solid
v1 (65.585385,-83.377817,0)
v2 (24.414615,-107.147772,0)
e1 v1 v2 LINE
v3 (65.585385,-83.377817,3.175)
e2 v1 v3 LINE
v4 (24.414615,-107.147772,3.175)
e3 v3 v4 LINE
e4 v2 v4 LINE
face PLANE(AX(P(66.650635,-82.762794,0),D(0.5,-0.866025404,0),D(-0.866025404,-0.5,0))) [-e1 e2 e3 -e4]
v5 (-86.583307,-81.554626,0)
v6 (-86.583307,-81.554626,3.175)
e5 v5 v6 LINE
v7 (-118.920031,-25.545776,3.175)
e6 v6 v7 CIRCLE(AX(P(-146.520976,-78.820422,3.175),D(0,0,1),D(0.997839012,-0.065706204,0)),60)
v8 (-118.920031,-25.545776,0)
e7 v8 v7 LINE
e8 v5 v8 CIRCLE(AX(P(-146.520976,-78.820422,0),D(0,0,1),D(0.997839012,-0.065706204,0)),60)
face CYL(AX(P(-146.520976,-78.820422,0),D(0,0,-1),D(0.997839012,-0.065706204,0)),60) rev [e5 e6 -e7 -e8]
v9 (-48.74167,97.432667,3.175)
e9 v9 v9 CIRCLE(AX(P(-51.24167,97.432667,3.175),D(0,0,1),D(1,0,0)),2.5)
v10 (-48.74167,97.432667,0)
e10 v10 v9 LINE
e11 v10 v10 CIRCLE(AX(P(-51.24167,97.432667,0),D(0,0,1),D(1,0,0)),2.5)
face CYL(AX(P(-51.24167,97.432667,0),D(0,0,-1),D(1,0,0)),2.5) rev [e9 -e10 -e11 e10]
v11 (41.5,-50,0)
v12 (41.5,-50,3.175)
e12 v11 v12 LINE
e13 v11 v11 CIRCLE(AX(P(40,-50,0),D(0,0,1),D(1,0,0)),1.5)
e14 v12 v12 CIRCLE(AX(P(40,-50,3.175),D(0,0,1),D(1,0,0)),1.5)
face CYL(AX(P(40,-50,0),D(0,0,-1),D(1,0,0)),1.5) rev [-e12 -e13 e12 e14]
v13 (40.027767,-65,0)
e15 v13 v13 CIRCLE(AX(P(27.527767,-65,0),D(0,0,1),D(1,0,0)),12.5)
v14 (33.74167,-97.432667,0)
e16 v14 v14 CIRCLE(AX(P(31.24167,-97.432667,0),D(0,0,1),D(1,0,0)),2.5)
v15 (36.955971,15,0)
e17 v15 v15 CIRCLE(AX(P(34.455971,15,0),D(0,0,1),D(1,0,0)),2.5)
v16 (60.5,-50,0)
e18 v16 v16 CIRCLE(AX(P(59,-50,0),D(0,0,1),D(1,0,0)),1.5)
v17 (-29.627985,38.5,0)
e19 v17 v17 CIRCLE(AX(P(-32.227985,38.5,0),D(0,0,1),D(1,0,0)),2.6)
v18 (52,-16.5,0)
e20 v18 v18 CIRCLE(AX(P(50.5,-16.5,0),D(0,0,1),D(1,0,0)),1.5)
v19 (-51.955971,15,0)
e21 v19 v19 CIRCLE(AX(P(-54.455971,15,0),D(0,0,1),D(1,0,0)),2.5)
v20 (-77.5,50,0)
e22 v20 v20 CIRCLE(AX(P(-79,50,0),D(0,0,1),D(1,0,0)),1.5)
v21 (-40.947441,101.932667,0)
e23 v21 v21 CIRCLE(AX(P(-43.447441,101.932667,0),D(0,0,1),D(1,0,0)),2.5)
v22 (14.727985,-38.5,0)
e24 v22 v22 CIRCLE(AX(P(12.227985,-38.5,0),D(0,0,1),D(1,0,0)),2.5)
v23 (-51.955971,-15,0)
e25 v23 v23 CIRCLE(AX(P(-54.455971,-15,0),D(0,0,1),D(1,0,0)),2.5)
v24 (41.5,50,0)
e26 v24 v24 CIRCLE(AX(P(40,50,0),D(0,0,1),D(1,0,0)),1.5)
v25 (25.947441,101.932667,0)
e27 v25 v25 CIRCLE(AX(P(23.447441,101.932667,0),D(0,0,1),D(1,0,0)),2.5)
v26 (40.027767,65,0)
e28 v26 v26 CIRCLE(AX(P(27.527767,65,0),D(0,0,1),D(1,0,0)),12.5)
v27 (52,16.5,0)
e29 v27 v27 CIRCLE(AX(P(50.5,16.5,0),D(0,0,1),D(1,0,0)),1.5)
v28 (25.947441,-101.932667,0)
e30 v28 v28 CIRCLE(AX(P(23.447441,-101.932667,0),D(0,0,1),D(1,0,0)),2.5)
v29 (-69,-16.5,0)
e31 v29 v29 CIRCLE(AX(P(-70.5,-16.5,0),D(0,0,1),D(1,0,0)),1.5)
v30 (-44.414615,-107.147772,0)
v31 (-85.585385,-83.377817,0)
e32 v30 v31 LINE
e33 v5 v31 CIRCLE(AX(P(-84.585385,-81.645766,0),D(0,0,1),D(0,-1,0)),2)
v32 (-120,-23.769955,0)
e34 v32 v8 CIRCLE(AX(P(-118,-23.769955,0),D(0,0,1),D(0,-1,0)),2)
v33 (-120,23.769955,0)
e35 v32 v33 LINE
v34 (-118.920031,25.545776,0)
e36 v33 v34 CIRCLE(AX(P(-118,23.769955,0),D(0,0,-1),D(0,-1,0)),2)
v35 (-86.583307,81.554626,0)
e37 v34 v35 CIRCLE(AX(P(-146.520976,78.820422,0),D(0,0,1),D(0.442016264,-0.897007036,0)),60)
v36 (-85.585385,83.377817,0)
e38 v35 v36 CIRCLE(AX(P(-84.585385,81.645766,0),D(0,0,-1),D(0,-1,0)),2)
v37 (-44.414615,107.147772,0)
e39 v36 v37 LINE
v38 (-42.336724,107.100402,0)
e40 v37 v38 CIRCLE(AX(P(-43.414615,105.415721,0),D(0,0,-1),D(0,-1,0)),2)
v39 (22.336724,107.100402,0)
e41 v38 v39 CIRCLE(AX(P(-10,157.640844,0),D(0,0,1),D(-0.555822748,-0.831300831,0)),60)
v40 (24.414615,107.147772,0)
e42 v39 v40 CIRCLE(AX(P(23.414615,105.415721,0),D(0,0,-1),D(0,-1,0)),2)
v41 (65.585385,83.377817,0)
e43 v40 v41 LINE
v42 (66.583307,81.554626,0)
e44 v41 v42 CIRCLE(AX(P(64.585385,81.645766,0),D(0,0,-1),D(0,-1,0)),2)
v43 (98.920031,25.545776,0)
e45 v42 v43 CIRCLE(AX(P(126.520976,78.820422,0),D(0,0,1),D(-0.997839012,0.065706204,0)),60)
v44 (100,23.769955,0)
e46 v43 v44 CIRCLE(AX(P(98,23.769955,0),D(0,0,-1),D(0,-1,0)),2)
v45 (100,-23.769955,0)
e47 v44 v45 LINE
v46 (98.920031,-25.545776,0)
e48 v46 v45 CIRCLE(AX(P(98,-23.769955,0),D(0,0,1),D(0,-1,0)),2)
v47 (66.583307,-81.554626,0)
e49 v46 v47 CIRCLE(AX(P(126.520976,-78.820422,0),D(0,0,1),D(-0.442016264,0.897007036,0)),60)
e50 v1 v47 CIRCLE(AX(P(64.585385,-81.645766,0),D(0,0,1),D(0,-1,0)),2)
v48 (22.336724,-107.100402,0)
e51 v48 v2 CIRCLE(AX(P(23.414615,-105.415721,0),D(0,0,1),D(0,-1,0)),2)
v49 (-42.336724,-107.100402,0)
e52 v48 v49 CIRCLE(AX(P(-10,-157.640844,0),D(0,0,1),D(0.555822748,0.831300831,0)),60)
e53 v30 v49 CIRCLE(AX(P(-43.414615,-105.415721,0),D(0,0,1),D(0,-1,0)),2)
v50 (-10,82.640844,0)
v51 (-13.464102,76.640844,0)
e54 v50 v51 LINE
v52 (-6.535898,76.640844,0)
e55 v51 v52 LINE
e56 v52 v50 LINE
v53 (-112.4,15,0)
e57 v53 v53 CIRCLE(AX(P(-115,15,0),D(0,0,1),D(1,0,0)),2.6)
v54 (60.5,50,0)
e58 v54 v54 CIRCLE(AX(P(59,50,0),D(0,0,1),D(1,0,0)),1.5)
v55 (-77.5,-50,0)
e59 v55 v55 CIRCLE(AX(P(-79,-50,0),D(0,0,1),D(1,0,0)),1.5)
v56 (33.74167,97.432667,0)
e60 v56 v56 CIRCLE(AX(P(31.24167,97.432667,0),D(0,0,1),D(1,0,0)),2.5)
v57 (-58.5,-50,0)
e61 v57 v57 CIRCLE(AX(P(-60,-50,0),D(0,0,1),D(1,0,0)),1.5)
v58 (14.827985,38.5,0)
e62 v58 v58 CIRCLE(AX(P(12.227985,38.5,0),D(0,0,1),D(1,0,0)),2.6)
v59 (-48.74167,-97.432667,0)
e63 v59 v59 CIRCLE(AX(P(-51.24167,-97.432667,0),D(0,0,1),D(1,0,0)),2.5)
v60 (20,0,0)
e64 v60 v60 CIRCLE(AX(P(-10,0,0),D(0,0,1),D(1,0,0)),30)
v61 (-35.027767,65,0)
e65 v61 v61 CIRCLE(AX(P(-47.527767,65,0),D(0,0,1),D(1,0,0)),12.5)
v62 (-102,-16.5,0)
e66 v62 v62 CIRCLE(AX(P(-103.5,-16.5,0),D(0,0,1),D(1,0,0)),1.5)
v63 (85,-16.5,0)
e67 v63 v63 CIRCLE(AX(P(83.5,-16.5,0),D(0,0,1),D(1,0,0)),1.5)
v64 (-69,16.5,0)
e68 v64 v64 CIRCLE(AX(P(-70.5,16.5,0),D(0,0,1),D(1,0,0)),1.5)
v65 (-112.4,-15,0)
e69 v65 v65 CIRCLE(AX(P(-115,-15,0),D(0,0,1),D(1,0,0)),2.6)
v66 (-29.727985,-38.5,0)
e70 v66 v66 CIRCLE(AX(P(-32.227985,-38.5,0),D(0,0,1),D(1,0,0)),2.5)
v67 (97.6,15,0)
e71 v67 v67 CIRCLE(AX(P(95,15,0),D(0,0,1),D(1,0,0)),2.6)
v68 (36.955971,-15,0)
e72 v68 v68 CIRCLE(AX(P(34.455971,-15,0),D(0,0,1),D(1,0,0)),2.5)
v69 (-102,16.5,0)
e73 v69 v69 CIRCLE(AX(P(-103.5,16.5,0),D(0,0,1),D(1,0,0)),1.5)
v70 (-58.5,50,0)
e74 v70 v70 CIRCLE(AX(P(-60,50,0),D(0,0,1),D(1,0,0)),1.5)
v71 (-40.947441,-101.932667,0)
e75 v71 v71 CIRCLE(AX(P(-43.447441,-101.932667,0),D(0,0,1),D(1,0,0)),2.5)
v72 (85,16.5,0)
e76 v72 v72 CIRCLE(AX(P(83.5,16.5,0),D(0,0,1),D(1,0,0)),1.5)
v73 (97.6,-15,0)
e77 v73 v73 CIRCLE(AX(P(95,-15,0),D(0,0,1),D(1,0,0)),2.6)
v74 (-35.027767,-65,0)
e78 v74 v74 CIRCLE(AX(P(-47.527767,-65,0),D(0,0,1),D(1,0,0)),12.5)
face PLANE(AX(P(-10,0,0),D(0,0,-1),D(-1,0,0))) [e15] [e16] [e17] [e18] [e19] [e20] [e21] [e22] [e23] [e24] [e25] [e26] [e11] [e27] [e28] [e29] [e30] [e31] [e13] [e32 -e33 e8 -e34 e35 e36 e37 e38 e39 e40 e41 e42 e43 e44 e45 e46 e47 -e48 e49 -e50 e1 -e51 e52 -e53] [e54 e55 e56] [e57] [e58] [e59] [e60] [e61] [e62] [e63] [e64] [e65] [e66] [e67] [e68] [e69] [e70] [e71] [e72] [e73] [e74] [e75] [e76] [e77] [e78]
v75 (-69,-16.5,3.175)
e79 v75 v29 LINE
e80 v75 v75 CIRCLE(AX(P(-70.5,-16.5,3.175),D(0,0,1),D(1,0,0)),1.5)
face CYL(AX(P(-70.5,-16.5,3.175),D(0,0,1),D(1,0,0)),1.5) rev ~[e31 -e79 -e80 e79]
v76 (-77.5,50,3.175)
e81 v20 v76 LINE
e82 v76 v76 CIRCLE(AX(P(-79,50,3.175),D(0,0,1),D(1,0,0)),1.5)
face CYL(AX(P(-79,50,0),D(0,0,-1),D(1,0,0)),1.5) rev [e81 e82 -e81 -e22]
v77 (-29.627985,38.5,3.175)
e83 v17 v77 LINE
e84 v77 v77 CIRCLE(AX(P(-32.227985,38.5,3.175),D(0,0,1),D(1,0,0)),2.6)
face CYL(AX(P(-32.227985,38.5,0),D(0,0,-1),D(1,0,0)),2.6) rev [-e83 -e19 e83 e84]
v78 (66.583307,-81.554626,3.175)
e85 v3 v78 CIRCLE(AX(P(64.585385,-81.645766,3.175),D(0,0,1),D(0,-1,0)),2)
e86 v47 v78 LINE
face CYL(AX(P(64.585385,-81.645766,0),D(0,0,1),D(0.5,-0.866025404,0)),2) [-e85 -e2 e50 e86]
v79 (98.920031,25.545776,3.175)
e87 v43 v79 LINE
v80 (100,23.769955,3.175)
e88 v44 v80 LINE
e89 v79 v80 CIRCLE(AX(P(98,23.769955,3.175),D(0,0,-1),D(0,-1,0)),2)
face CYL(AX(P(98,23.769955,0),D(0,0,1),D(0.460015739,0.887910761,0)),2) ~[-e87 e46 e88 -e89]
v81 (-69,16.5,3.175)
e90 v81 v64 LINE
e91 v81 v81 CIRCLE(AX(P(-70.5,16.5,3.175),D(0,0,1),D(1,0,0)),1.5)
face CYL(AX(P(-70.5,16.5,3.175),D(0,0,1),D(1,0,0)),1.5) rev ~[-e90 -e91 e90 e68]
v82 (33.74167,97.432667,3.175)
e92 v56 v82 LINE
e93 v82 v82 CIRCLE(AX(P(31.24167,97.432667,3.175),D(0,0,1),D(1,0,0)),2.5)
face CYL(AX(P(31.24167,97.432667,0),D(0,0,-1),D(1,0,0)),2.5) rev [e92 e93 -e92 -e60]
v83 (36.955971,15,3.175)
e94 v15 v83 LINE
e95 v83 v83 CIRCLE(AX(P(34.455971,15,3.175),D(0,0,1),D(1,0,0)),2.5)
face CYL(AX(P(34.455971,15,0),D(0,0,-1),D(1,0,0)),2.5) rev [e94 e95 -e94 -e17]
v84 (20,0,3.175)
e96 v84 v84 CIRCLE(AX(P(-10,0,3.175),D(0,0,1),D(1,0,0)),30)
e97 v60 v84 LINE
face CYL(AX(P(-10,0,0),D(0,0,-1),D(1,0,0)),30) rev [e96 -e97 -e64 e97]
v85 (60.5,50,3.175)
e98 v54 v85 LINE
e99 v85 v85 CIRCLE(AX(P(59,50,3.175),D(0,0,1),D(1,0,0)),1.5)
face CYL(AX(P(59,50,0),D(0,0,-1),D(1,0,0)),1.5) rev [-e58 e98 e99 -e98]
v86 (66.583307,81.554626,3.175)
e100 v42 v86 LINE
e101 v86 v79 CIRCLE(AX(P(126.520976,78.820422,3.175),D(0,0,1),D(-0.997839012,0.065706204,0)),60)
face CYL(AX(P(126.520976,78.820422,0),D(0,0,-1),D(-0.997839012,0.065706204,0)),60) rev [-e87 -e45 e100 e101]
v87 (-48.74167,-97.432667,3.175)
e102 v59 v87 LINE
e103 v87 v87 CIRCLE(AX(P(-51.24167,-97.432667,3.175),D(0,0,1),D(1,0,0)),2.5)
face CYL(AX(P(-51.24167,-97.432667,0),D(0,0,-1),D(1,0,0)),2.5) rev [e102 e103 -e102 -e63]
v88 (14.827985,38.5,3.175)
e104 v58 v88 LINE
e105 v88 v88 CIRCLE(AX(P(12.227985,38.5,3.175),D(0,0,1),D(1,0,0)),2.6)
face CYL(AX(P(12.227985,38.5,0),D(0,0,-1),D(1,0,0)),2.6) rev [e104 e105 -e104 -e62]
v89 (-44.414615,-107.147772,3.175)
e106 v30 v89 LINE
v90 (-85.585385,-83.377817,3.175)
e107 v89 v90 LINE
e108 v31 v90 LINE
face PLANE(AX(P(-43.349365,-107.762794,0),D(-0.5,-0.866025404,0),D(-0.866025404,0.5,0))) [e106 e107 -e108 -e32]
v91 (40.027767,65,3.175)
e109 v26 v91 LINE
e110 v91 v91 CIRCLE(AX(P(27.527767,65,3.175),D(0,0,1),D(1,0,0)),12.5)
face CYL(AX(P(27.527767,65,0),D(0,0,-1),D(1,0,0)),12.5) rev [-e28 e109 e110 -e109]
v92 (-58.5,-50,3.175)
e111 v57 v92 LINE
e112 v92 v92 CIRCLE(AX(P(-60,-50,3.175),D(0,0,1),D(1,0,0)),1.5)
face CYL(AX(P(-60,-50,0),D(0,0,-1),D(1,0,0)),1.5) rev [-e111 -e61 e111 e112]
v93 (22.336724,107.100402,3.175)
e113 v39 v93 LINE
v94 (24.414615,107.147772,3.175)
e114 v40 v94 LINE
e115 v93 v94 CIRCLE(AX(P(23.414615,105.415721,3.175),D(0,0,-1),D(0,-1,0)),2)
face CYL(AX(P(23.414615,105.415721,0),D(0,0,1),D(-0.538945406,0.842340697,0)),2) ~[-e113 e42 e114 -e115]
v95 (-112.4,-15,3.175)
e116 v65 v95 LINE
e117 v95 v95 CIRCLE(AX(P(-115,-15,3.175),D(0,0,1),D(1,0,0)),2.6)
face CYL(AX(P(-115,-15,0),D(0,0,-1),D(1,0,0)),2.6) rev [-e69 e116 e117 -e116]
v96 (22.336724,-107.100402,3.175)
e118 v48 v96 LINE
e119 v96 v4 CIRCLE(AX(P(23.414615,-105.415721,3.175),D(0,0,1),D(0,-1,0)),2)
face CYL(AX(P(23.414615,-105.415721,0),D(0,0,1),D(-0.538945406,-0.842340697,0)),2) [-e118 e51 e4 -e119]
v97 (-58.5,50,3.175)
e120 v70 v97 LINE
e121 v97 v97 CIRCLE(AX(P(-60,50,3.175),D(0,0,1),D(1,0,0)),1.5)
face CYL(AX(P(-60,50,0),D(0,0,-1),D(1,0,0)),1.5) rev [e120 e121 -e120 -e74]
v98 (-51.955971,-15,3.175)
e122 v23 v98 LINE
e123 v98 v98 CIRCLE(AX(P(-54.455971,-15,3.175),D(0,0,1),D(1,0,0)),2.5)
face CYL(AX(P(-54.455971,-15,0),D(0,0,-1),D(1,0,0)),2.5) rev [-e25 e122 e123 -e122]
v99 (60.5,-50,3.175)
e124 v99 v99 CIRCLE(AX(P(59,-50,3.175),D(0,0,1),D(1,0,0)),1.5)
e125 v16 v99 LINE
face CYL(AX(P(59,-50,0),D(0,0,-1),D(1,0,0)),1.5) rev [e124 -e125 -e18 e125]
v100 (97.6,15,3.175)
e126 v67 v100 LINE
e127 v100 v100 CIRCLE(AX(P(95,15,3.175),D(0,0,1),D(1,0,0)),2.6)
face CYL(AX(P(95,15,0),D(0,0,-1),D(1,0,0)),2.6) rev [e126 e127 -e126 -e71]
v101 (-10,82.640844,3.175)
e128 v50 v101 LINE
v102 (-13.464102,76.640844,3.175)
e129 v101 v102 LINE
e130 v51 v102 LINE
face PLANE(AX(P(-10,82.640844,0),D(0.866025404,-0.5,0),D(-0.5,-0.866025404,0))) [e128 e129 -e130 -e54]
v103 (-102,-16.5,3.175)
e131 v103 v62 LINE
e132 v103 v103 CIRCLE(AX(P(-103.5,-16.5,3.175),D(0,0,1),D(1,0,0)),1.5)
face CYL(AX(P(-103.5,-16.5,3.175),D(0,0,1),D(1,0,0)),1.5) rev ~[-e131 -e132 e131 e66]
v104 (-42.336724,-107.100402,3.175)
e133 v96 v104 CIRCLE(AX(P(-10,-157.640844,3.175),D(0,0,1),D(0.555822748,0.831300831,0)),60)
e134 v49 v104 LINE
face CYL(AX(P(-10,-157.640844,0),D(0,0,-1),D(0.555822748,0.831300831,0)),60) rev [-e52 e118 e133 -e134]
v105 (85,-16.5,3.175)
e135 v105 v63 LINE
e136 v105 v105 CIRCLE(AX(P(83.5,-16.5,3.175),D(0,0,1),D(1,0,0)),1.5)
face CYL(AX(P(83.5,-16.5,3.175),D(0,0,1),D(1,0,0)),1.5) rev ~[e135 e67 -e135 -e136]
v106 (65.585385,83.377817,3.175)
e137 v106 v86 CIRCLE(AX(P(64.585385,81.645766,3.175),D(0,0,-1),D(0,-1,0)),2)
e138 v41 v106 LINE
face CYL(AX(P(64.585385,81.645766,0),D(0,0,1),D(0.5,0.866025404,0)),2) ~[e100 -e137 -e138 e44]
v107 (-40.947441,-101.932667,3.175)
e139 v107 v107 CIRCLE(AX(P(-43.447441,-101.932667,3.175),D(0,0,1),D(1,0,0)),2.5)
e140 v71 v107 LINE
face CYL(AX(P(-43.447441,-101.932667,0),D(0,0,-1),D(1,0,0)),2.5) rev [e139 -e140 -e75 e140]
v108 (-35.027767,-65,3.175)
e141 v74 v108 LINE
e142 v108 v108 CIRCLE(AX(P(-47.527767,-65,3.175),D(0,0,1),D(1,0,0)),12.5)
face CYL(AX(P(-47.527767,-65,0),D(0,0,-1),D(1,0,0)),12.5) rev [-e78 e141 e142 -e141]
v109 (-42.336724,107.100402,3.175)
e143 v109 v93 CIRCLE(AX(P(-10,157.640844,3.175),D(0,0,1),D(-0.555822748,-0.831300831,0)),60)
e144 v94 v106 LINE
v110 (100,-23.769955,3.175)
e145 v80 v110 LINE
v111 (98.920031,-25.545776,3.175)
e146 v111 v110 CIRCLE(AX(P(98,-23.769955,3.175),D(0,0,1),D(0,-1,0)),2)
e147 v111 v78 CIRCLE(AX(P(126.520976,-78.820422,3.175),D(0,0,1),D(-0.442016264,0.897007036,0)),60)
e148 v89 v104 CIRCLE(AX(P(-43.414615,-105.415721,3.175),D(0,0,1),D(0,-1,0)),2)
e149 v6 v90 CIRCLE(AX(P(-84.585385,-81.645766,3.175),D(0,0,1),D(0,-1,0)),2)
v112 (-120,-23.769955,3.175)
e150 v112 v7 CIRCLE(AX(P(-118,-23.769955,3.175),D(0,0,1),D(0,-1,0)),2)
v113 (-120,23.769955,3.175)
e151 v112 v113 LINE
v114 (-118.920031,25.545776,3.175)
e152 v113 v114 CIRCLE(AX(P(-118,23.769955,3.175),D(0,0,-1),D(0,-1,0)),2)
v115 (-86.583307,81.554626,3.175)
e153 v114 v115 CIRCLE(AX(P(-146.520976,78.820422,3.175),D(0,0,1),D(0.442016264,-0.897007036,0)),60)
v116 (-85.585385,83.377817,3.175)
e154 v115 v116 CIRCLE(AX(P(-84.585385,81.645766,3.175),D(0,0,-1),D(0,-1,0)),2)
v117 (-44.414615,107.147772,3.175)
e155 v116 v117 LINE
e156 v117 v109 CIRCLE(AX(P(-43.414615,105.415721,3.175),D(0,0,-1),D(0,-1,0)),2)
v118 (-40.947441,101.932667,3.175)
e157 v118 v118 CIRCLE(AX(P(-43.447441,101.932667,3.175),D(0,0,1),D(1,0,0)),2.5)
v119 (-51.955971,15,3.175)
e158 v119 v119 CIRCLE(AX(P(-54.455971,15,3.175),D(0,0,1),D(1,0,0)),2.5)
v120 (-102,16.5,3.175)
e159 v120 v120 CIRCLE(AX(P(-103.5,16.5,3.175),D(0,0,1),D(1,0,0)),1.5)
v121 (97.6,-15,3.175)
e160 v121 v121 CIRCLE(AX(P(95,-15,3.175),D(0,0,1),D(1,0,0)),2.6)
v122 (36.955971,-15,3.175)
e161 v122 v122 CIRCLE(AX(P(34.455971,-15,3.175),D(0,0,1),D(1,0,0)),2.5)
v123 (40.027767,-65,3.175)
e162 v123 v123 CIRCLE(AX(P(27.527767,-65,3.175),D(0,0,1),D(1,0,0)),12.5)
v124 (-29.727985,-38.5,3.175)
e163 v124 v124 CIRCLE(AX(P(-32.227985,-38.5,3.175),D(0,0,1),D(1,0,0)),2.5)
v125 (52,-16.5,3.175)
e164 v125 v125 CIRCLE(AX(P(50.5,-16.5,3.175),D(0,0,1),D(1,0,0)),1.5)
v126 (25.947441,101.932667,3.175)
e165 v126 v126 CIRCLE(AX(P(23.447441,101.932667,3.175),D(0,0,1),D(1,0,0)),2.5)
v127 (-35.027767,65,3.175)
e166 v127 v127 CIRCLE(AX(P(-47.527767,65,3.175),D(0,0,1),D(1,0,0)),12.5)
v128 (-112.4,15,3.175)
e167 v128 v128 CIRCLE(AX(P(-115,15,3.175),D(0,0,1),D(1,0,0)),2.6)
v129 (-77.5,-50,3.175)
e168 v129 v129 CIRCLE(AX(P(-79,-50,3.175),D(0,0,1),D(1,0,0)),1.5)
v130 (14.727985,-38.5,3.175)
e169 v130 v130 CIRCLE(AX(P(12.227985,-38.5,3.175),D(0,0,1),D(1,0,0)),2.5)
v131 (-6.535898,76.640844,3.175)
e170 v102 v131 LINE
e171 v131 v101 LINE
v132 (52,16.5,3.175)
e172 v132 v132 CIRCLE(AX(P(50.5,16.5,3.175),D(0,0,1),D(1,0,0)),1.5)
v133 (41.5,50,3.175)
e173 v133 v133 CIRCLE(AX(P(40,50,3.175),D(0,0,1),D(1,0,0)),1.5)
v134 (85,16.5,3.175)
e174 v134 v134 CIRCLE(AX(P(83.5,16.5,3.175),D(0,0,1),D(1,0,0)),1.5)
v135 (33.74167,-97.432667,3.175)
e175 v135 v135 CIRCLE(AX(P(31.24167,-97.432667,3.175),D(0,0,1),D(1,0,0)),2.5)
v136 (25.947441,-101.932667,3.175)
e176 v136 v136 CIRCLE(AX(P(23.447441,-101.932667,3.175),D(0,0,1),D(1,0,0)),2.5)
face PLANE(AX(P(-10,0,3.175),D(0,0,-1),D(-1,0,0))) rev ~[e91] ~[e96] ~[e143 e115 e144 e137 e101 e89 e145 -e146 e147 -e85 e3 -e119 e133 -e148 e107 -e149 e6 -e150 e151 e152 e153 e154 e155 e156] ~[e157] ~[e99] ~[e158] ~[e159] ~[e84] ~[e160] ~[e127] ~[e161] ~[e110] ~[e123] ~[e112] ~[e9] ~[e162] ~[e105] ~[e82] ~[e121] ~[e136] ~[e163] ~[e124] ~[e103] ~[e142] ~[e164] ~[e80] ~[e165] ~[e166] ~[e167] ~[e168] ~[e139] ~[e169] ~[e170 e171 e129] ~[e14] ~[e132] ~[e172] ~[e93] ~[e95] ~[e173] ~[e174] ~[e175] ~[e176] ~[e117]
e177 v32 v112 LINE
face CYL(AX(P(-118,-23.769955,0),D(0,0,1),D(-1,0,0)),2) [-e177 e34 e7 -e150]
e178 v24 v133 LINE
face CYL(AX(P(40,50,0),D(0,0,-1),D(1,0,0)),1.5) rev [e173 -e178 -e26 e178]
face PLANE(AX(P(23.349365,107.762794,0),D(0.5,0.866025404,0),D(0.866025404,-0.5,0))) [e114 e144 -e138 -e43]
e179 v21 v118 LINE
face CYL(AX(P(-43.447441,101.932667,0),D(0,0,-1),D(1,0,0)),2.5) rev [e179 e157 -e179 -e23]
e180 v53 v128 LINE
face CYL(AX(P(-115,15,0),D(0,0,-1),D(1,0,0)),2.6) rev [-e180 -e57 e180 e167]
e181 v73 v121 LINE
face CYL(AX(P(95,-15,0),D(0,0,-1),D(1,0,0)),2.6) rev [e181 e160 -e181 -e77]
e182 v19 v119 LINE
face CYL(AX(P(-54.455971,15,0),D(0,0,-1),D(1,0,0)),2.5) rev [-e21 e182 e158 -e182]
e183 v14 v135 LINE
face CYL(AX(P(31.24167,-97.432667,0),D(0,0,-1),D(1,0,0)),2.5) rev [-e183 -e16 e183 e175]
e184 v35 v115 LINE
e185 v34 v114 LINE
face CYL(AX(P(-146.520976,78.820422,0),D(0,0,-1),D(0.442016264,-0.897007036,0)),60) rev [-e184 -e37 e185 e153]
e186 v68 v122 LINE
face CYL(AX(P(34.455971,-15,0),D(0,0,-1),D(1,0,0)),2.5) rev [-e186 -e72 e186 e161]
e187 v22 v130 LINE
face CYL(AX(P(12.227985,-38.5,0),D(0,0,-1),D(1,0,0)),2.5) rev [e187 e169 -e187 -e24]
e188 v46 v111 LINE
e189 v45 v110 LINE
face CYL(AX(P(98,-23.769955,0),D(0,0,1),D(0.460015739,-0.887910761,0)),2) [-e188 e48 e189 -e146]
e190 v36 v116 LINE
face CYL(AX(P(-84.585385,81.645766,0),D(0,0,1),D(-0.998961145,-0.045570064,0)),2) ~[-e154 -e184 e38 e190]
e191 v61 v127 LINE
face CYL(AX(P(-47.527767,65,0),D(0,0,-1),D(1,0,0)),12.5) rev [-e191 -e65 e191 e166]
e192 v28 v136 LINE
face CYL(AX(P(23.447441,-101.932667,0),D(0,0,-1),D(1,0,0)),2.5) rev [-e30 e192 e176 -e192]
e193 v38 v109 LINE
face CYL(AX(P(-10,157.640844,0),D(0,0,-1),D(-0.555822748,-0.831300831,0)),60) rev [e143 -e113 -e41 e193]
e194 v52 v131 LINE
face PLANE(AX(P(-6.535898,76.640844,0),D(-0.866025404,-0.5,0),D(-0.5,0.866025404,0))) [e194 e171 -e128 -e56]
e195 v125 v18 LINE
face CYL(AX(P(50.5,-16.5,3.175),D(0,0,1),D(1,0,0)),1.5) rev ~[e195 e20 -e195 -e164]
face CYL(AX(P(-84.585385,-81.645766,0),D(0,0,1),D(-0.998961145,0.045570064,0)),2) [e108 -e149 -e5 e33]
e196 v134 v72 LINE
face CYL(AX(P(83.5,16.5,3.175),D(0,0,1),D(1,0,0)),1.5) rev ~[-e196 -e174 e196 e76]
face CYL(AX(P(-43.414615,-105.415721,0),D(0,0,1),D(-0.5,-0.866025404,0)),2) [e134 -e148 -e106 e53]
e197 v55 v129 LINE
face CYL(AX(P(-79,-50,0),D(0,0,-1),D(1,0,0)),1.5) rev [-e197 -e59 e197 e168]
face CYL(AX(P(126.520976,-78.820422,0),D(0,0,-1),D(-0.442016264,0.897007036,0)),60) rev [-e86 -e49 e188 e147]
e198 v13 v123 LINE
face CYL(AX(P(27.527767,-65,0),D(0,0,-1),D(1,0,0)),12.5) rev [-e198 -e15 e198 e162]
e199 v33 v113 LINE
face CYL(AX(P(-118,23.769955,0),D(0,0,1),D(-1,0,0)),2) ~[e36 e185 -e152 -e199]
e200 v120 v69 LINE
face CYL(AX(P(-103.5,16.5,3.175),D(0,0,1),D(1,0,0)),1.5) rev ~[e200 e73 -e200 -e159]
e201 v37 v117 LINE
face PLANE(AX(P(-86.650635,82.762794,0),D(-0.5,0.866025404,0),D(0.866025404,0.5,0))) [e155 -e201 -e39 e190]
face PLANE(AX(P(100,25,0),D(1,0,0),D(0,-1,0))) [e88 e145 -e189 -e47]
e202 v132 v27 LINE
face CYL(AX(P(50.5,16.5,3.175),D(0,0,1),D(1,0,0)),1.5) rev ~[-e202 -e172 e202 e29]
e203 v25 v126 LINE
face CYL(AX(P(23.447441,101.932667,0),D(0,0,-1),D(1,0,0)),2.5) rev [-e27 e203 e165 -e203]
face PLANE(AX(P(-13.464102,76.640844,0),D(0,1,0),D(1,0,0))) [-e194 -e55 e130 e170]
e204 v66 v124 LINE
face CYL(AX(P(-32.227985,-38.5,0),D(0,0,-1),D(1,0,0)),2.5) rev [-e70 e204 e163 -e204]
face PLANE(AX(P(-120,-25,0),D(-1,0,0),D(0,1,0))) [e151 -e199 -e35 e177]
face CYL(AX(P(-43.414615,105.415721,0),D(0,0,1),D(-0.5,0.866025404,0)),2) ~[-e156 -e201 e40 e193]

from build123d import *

# Parameters (mm, degrees)
SKETCH1_R           = 2.5
SKETCH1_R_2         = 2.6
SKETCH1_R_3         = 1.5
SKETCH1_R_4         = 12.5
SKETCH1_R_5         = 30
BOSS_EXTRUDE1_DEPTH = 3.175
FILLET1_R           = 2
SKETCH3_R           = 1.5
CUT_EXTRUDE1_DEPTH  = 4


with BuildPart() as part:
    # Sketch1 → Boss-Extrude1 (new body)
    with BuildSketch(Plane.XY):
        with BuildLine():
            Line((-120, -25), (-120, 25))
            ThreePointArc((-120, 25), (-94.559451613, 48.820422151), (-86.650635095, 82.762794416))
            Line((-86.650635095, 82.762794416), (-43.349364905, 107.762794416))
            ThreePointArc((-43.349364905, 107.762794416), (-10, 97.640844302), (23.349364905, 107.762794416))
            Line((23.349364905, 107.762794416), (66.650635095, 82.762794416))
            ThreePointArc((66.650635095, 82.762794416), (74.559451613, 48.820422151), (100, 25))
            Line((100, 25), (100, -25))
            ThreePointArc((100, -25), (74.559451613, -48.820422151), (66.650635095, -82.762794416))
            Line((66.650635095, -82.762794416), (23.349364905, -107.762794416))
            ThreePointArc((23.349364905, -107.762794416), (-10, -97.640844302), (-43.349364905, -107.762794416))
            Line((-43.349364905, -107.762794416), (-86.650635095, -82.762794416))
            ThreePointArc((-86.650635095, -82.762794416), (-94.559451613, -48.820422151), (-120, -25))
        make_face()
        with Locations((12.227985364, -38.5)):
            Circle(SKETCH1_R, mode=Mode.SUBTRACT)
        with Locations((-54.455970728, 15)):
            Circle(SKETCH1_R, mode=Mode.SUBTRACT)
        with Locations((12.227985364, 38.5)):
            Circle(SKETCH1_R_2, mode=Mode.SUBTRACT)
        with Locations((-32.227985364, 38.5)):
            Circle(SKETCH1_R_2, mode=Mode.SUBTRACT)
        with Locations((-54.455970728, -15)):
            Circle(SKETCH1_R, mode=Mode.SUBTRACT)
        with Locations((-32.227985364, -38.5)):
            Circle(SKETCH1_R, mode=Mode.SUBTRACT)
        with Locations((95, 15)):
            Circle(SKETCH1_R_2, mode=Mode.SUBTRACT)
        with Locations((95, -15)):
            Circle(SKETCH1_R_2, mode=Mode.SUBTRACT)
        with Locations((-115, -15)):
            Circle(SKETCH1_R_2, mode=Mode.SUBTRACT)
        with Locations((-115, 15)):
            Circle(SKETCH1_R_2, mode=Mode.SUBTRACT)
        with Locations((31.241669751, -97.432667397)):
            Circle(SKETCH1_R, mode=Mode.SUBTRACT)
        with Locations((23.447441117, -101.932667397)):
            Circle(SKETCH1_R, mode=Mode.SUBTRACT)
        with Locations((-43.447441117, -101.932667397)):
            Circle(SKETCH1_R, mode=Mode.SUBTRACT)
        with Locations((-51.241669751, -97.432667397)):
            Circle(SKETCH1_R, mode=Mode.SUBTRACT)
        with Locations((-51.241669751, 97.432667397)):
            Circle(SKETCH1_R, mode=Mode.SUBTRACT)
        with Locations((-43.447441117, 101.932667397)):
            Circle(SKETCH1_R, mode=Mode.SUBTRACT)
        with Locations((23.447441117, 101.932667397)):
            Circle(SKETCH1_R, mode=Mode.SUBTRACT)
        with Locations((31.241669751, 97.432667397)):
            Circle(SKETCH1_R, mode=Mode.SUBTRACT)
        with Locations((34.455970728, -15)):
            Circle(SKETCH1_R, mode=Mode.SUBTRACT)
        with Locations((34.455970728, 15)):
            Circle(SKETCH1_R, mode=Mode.SUBTRACT)
        with Locations((-79, 50)):
            Circle(SKETCH1_R_3, mode=Mode.SUBTRACT)
        with Locations((-60, 50)):
            Circle(SKETCH1_R_3, mode=Mode.SUBTRACT)
        with Locations((-60, -50)):
            Circle(SKETCH1_R_3, mode=Mode.SUBTRACT)
        with Locations((-79, -50)):
            Circle(SKETCH1_R_3, mode=Mode.SUBTRACT)
        with Locations((40, -50)):
            Circle(SKETCH1_R_3, mode=Mode.SUBTRACT)
        with Locations((59, -50)):
            Circle(SKETCH1_R_3, mode=Mode.SUBTRACT)
        with Locations((59, 50)):
            Circle(SKETCH1_R_3, mode=Mode.SUBTRACT)
        with Locations((40, 50)):
            Circle(SKETCH1_R_3, mode=Mode.SUBTRACT)
        with Locations((27.527767497, -65)):
            Circle(SKETCH1_R_4, mode=Mode.SUBTRACT)
        with Locations((-10, 0)):
            Circle(SKETCH1_R_5, mode=Mode.SUBTRACT)
        with Locations((-47.527767497, -65)):
            Circle(SKETCH1_R_4, mode=Mode.SUBTRACT)
        with Locations((-47.527767497, 65)):
            Circle(SKETCH1_R_4, mode=Mode.SUBTRACT)
        with Locations((27.527767497, 65)):
            Circle(SKETCH1_R_4, mode=Mode.SUBTRACT)
        Polygon((-10, 82.640844302), (-13.464101615, 76.640844302), (-6.535898385, 76.640844302), align=None, mode=Mode.SUBTRACT)
    extrude(amount=BOSS_EXTRUDE1_DEPTH)

    # Fillet1
    fillet1_edges = [part.edges().sort_by_distance(p)[0] for p in [
        (-120, -25, 1.5875),
        (-120, 25, 1.5875),
        (-86.650635095, 82.762794416, 1.5875),
        (-43.349364905, 107.762794416, 1.5875),
        (23.349364905, 107.762794416, 1.5875),
        (66.650635095, 82.762794416, 1.5875),
        (100, 25, 1.5875),
        (100, -25, 1.5875),
        (66.650635095, -82.762794416, 1.5875),
        (23.349364905, -107.762794416, 1.5875),
        (-43.349364905, -107.762794416, 1.5875),
        (-86.650635095, -82.762794416, 1.5875),
    ]]
    fillet(fillet1_edges, radius=FILLET1_R)

    # Sketch3 → Cut-Extrude1 (cut)
    with BuildSketch(Plane.XY.offset(3.175)):
        with Locations((-103.5, 16.5)):
            Circle(SKETCH3_R)
        with Locations((-70.5, 16.5)):
            Circle(SKETCH3_R)
        with Locations((-70.5, -16.5)):
            Circle(SKETCH3_R)
        with Locations((-103.5, -16.5)):
            Circle(SKETCH3_R)
        with Locations((50.5, -16.5)):
            Circle(SKETCH3_R)
        with Locations((83.5, -16.5)):
            Circle(SKETCH3_R)
        with Locations((50.5, 16.5)):
            Circle(SKETCH3_R)
        with Locations((83.5, 16.5)):
            Circle(SKETCH3_R)
    extrude(amount=-CUT_EXTRUDE1_DEPTH, mode=Mode.SUBTRACT)


solid = part.part
